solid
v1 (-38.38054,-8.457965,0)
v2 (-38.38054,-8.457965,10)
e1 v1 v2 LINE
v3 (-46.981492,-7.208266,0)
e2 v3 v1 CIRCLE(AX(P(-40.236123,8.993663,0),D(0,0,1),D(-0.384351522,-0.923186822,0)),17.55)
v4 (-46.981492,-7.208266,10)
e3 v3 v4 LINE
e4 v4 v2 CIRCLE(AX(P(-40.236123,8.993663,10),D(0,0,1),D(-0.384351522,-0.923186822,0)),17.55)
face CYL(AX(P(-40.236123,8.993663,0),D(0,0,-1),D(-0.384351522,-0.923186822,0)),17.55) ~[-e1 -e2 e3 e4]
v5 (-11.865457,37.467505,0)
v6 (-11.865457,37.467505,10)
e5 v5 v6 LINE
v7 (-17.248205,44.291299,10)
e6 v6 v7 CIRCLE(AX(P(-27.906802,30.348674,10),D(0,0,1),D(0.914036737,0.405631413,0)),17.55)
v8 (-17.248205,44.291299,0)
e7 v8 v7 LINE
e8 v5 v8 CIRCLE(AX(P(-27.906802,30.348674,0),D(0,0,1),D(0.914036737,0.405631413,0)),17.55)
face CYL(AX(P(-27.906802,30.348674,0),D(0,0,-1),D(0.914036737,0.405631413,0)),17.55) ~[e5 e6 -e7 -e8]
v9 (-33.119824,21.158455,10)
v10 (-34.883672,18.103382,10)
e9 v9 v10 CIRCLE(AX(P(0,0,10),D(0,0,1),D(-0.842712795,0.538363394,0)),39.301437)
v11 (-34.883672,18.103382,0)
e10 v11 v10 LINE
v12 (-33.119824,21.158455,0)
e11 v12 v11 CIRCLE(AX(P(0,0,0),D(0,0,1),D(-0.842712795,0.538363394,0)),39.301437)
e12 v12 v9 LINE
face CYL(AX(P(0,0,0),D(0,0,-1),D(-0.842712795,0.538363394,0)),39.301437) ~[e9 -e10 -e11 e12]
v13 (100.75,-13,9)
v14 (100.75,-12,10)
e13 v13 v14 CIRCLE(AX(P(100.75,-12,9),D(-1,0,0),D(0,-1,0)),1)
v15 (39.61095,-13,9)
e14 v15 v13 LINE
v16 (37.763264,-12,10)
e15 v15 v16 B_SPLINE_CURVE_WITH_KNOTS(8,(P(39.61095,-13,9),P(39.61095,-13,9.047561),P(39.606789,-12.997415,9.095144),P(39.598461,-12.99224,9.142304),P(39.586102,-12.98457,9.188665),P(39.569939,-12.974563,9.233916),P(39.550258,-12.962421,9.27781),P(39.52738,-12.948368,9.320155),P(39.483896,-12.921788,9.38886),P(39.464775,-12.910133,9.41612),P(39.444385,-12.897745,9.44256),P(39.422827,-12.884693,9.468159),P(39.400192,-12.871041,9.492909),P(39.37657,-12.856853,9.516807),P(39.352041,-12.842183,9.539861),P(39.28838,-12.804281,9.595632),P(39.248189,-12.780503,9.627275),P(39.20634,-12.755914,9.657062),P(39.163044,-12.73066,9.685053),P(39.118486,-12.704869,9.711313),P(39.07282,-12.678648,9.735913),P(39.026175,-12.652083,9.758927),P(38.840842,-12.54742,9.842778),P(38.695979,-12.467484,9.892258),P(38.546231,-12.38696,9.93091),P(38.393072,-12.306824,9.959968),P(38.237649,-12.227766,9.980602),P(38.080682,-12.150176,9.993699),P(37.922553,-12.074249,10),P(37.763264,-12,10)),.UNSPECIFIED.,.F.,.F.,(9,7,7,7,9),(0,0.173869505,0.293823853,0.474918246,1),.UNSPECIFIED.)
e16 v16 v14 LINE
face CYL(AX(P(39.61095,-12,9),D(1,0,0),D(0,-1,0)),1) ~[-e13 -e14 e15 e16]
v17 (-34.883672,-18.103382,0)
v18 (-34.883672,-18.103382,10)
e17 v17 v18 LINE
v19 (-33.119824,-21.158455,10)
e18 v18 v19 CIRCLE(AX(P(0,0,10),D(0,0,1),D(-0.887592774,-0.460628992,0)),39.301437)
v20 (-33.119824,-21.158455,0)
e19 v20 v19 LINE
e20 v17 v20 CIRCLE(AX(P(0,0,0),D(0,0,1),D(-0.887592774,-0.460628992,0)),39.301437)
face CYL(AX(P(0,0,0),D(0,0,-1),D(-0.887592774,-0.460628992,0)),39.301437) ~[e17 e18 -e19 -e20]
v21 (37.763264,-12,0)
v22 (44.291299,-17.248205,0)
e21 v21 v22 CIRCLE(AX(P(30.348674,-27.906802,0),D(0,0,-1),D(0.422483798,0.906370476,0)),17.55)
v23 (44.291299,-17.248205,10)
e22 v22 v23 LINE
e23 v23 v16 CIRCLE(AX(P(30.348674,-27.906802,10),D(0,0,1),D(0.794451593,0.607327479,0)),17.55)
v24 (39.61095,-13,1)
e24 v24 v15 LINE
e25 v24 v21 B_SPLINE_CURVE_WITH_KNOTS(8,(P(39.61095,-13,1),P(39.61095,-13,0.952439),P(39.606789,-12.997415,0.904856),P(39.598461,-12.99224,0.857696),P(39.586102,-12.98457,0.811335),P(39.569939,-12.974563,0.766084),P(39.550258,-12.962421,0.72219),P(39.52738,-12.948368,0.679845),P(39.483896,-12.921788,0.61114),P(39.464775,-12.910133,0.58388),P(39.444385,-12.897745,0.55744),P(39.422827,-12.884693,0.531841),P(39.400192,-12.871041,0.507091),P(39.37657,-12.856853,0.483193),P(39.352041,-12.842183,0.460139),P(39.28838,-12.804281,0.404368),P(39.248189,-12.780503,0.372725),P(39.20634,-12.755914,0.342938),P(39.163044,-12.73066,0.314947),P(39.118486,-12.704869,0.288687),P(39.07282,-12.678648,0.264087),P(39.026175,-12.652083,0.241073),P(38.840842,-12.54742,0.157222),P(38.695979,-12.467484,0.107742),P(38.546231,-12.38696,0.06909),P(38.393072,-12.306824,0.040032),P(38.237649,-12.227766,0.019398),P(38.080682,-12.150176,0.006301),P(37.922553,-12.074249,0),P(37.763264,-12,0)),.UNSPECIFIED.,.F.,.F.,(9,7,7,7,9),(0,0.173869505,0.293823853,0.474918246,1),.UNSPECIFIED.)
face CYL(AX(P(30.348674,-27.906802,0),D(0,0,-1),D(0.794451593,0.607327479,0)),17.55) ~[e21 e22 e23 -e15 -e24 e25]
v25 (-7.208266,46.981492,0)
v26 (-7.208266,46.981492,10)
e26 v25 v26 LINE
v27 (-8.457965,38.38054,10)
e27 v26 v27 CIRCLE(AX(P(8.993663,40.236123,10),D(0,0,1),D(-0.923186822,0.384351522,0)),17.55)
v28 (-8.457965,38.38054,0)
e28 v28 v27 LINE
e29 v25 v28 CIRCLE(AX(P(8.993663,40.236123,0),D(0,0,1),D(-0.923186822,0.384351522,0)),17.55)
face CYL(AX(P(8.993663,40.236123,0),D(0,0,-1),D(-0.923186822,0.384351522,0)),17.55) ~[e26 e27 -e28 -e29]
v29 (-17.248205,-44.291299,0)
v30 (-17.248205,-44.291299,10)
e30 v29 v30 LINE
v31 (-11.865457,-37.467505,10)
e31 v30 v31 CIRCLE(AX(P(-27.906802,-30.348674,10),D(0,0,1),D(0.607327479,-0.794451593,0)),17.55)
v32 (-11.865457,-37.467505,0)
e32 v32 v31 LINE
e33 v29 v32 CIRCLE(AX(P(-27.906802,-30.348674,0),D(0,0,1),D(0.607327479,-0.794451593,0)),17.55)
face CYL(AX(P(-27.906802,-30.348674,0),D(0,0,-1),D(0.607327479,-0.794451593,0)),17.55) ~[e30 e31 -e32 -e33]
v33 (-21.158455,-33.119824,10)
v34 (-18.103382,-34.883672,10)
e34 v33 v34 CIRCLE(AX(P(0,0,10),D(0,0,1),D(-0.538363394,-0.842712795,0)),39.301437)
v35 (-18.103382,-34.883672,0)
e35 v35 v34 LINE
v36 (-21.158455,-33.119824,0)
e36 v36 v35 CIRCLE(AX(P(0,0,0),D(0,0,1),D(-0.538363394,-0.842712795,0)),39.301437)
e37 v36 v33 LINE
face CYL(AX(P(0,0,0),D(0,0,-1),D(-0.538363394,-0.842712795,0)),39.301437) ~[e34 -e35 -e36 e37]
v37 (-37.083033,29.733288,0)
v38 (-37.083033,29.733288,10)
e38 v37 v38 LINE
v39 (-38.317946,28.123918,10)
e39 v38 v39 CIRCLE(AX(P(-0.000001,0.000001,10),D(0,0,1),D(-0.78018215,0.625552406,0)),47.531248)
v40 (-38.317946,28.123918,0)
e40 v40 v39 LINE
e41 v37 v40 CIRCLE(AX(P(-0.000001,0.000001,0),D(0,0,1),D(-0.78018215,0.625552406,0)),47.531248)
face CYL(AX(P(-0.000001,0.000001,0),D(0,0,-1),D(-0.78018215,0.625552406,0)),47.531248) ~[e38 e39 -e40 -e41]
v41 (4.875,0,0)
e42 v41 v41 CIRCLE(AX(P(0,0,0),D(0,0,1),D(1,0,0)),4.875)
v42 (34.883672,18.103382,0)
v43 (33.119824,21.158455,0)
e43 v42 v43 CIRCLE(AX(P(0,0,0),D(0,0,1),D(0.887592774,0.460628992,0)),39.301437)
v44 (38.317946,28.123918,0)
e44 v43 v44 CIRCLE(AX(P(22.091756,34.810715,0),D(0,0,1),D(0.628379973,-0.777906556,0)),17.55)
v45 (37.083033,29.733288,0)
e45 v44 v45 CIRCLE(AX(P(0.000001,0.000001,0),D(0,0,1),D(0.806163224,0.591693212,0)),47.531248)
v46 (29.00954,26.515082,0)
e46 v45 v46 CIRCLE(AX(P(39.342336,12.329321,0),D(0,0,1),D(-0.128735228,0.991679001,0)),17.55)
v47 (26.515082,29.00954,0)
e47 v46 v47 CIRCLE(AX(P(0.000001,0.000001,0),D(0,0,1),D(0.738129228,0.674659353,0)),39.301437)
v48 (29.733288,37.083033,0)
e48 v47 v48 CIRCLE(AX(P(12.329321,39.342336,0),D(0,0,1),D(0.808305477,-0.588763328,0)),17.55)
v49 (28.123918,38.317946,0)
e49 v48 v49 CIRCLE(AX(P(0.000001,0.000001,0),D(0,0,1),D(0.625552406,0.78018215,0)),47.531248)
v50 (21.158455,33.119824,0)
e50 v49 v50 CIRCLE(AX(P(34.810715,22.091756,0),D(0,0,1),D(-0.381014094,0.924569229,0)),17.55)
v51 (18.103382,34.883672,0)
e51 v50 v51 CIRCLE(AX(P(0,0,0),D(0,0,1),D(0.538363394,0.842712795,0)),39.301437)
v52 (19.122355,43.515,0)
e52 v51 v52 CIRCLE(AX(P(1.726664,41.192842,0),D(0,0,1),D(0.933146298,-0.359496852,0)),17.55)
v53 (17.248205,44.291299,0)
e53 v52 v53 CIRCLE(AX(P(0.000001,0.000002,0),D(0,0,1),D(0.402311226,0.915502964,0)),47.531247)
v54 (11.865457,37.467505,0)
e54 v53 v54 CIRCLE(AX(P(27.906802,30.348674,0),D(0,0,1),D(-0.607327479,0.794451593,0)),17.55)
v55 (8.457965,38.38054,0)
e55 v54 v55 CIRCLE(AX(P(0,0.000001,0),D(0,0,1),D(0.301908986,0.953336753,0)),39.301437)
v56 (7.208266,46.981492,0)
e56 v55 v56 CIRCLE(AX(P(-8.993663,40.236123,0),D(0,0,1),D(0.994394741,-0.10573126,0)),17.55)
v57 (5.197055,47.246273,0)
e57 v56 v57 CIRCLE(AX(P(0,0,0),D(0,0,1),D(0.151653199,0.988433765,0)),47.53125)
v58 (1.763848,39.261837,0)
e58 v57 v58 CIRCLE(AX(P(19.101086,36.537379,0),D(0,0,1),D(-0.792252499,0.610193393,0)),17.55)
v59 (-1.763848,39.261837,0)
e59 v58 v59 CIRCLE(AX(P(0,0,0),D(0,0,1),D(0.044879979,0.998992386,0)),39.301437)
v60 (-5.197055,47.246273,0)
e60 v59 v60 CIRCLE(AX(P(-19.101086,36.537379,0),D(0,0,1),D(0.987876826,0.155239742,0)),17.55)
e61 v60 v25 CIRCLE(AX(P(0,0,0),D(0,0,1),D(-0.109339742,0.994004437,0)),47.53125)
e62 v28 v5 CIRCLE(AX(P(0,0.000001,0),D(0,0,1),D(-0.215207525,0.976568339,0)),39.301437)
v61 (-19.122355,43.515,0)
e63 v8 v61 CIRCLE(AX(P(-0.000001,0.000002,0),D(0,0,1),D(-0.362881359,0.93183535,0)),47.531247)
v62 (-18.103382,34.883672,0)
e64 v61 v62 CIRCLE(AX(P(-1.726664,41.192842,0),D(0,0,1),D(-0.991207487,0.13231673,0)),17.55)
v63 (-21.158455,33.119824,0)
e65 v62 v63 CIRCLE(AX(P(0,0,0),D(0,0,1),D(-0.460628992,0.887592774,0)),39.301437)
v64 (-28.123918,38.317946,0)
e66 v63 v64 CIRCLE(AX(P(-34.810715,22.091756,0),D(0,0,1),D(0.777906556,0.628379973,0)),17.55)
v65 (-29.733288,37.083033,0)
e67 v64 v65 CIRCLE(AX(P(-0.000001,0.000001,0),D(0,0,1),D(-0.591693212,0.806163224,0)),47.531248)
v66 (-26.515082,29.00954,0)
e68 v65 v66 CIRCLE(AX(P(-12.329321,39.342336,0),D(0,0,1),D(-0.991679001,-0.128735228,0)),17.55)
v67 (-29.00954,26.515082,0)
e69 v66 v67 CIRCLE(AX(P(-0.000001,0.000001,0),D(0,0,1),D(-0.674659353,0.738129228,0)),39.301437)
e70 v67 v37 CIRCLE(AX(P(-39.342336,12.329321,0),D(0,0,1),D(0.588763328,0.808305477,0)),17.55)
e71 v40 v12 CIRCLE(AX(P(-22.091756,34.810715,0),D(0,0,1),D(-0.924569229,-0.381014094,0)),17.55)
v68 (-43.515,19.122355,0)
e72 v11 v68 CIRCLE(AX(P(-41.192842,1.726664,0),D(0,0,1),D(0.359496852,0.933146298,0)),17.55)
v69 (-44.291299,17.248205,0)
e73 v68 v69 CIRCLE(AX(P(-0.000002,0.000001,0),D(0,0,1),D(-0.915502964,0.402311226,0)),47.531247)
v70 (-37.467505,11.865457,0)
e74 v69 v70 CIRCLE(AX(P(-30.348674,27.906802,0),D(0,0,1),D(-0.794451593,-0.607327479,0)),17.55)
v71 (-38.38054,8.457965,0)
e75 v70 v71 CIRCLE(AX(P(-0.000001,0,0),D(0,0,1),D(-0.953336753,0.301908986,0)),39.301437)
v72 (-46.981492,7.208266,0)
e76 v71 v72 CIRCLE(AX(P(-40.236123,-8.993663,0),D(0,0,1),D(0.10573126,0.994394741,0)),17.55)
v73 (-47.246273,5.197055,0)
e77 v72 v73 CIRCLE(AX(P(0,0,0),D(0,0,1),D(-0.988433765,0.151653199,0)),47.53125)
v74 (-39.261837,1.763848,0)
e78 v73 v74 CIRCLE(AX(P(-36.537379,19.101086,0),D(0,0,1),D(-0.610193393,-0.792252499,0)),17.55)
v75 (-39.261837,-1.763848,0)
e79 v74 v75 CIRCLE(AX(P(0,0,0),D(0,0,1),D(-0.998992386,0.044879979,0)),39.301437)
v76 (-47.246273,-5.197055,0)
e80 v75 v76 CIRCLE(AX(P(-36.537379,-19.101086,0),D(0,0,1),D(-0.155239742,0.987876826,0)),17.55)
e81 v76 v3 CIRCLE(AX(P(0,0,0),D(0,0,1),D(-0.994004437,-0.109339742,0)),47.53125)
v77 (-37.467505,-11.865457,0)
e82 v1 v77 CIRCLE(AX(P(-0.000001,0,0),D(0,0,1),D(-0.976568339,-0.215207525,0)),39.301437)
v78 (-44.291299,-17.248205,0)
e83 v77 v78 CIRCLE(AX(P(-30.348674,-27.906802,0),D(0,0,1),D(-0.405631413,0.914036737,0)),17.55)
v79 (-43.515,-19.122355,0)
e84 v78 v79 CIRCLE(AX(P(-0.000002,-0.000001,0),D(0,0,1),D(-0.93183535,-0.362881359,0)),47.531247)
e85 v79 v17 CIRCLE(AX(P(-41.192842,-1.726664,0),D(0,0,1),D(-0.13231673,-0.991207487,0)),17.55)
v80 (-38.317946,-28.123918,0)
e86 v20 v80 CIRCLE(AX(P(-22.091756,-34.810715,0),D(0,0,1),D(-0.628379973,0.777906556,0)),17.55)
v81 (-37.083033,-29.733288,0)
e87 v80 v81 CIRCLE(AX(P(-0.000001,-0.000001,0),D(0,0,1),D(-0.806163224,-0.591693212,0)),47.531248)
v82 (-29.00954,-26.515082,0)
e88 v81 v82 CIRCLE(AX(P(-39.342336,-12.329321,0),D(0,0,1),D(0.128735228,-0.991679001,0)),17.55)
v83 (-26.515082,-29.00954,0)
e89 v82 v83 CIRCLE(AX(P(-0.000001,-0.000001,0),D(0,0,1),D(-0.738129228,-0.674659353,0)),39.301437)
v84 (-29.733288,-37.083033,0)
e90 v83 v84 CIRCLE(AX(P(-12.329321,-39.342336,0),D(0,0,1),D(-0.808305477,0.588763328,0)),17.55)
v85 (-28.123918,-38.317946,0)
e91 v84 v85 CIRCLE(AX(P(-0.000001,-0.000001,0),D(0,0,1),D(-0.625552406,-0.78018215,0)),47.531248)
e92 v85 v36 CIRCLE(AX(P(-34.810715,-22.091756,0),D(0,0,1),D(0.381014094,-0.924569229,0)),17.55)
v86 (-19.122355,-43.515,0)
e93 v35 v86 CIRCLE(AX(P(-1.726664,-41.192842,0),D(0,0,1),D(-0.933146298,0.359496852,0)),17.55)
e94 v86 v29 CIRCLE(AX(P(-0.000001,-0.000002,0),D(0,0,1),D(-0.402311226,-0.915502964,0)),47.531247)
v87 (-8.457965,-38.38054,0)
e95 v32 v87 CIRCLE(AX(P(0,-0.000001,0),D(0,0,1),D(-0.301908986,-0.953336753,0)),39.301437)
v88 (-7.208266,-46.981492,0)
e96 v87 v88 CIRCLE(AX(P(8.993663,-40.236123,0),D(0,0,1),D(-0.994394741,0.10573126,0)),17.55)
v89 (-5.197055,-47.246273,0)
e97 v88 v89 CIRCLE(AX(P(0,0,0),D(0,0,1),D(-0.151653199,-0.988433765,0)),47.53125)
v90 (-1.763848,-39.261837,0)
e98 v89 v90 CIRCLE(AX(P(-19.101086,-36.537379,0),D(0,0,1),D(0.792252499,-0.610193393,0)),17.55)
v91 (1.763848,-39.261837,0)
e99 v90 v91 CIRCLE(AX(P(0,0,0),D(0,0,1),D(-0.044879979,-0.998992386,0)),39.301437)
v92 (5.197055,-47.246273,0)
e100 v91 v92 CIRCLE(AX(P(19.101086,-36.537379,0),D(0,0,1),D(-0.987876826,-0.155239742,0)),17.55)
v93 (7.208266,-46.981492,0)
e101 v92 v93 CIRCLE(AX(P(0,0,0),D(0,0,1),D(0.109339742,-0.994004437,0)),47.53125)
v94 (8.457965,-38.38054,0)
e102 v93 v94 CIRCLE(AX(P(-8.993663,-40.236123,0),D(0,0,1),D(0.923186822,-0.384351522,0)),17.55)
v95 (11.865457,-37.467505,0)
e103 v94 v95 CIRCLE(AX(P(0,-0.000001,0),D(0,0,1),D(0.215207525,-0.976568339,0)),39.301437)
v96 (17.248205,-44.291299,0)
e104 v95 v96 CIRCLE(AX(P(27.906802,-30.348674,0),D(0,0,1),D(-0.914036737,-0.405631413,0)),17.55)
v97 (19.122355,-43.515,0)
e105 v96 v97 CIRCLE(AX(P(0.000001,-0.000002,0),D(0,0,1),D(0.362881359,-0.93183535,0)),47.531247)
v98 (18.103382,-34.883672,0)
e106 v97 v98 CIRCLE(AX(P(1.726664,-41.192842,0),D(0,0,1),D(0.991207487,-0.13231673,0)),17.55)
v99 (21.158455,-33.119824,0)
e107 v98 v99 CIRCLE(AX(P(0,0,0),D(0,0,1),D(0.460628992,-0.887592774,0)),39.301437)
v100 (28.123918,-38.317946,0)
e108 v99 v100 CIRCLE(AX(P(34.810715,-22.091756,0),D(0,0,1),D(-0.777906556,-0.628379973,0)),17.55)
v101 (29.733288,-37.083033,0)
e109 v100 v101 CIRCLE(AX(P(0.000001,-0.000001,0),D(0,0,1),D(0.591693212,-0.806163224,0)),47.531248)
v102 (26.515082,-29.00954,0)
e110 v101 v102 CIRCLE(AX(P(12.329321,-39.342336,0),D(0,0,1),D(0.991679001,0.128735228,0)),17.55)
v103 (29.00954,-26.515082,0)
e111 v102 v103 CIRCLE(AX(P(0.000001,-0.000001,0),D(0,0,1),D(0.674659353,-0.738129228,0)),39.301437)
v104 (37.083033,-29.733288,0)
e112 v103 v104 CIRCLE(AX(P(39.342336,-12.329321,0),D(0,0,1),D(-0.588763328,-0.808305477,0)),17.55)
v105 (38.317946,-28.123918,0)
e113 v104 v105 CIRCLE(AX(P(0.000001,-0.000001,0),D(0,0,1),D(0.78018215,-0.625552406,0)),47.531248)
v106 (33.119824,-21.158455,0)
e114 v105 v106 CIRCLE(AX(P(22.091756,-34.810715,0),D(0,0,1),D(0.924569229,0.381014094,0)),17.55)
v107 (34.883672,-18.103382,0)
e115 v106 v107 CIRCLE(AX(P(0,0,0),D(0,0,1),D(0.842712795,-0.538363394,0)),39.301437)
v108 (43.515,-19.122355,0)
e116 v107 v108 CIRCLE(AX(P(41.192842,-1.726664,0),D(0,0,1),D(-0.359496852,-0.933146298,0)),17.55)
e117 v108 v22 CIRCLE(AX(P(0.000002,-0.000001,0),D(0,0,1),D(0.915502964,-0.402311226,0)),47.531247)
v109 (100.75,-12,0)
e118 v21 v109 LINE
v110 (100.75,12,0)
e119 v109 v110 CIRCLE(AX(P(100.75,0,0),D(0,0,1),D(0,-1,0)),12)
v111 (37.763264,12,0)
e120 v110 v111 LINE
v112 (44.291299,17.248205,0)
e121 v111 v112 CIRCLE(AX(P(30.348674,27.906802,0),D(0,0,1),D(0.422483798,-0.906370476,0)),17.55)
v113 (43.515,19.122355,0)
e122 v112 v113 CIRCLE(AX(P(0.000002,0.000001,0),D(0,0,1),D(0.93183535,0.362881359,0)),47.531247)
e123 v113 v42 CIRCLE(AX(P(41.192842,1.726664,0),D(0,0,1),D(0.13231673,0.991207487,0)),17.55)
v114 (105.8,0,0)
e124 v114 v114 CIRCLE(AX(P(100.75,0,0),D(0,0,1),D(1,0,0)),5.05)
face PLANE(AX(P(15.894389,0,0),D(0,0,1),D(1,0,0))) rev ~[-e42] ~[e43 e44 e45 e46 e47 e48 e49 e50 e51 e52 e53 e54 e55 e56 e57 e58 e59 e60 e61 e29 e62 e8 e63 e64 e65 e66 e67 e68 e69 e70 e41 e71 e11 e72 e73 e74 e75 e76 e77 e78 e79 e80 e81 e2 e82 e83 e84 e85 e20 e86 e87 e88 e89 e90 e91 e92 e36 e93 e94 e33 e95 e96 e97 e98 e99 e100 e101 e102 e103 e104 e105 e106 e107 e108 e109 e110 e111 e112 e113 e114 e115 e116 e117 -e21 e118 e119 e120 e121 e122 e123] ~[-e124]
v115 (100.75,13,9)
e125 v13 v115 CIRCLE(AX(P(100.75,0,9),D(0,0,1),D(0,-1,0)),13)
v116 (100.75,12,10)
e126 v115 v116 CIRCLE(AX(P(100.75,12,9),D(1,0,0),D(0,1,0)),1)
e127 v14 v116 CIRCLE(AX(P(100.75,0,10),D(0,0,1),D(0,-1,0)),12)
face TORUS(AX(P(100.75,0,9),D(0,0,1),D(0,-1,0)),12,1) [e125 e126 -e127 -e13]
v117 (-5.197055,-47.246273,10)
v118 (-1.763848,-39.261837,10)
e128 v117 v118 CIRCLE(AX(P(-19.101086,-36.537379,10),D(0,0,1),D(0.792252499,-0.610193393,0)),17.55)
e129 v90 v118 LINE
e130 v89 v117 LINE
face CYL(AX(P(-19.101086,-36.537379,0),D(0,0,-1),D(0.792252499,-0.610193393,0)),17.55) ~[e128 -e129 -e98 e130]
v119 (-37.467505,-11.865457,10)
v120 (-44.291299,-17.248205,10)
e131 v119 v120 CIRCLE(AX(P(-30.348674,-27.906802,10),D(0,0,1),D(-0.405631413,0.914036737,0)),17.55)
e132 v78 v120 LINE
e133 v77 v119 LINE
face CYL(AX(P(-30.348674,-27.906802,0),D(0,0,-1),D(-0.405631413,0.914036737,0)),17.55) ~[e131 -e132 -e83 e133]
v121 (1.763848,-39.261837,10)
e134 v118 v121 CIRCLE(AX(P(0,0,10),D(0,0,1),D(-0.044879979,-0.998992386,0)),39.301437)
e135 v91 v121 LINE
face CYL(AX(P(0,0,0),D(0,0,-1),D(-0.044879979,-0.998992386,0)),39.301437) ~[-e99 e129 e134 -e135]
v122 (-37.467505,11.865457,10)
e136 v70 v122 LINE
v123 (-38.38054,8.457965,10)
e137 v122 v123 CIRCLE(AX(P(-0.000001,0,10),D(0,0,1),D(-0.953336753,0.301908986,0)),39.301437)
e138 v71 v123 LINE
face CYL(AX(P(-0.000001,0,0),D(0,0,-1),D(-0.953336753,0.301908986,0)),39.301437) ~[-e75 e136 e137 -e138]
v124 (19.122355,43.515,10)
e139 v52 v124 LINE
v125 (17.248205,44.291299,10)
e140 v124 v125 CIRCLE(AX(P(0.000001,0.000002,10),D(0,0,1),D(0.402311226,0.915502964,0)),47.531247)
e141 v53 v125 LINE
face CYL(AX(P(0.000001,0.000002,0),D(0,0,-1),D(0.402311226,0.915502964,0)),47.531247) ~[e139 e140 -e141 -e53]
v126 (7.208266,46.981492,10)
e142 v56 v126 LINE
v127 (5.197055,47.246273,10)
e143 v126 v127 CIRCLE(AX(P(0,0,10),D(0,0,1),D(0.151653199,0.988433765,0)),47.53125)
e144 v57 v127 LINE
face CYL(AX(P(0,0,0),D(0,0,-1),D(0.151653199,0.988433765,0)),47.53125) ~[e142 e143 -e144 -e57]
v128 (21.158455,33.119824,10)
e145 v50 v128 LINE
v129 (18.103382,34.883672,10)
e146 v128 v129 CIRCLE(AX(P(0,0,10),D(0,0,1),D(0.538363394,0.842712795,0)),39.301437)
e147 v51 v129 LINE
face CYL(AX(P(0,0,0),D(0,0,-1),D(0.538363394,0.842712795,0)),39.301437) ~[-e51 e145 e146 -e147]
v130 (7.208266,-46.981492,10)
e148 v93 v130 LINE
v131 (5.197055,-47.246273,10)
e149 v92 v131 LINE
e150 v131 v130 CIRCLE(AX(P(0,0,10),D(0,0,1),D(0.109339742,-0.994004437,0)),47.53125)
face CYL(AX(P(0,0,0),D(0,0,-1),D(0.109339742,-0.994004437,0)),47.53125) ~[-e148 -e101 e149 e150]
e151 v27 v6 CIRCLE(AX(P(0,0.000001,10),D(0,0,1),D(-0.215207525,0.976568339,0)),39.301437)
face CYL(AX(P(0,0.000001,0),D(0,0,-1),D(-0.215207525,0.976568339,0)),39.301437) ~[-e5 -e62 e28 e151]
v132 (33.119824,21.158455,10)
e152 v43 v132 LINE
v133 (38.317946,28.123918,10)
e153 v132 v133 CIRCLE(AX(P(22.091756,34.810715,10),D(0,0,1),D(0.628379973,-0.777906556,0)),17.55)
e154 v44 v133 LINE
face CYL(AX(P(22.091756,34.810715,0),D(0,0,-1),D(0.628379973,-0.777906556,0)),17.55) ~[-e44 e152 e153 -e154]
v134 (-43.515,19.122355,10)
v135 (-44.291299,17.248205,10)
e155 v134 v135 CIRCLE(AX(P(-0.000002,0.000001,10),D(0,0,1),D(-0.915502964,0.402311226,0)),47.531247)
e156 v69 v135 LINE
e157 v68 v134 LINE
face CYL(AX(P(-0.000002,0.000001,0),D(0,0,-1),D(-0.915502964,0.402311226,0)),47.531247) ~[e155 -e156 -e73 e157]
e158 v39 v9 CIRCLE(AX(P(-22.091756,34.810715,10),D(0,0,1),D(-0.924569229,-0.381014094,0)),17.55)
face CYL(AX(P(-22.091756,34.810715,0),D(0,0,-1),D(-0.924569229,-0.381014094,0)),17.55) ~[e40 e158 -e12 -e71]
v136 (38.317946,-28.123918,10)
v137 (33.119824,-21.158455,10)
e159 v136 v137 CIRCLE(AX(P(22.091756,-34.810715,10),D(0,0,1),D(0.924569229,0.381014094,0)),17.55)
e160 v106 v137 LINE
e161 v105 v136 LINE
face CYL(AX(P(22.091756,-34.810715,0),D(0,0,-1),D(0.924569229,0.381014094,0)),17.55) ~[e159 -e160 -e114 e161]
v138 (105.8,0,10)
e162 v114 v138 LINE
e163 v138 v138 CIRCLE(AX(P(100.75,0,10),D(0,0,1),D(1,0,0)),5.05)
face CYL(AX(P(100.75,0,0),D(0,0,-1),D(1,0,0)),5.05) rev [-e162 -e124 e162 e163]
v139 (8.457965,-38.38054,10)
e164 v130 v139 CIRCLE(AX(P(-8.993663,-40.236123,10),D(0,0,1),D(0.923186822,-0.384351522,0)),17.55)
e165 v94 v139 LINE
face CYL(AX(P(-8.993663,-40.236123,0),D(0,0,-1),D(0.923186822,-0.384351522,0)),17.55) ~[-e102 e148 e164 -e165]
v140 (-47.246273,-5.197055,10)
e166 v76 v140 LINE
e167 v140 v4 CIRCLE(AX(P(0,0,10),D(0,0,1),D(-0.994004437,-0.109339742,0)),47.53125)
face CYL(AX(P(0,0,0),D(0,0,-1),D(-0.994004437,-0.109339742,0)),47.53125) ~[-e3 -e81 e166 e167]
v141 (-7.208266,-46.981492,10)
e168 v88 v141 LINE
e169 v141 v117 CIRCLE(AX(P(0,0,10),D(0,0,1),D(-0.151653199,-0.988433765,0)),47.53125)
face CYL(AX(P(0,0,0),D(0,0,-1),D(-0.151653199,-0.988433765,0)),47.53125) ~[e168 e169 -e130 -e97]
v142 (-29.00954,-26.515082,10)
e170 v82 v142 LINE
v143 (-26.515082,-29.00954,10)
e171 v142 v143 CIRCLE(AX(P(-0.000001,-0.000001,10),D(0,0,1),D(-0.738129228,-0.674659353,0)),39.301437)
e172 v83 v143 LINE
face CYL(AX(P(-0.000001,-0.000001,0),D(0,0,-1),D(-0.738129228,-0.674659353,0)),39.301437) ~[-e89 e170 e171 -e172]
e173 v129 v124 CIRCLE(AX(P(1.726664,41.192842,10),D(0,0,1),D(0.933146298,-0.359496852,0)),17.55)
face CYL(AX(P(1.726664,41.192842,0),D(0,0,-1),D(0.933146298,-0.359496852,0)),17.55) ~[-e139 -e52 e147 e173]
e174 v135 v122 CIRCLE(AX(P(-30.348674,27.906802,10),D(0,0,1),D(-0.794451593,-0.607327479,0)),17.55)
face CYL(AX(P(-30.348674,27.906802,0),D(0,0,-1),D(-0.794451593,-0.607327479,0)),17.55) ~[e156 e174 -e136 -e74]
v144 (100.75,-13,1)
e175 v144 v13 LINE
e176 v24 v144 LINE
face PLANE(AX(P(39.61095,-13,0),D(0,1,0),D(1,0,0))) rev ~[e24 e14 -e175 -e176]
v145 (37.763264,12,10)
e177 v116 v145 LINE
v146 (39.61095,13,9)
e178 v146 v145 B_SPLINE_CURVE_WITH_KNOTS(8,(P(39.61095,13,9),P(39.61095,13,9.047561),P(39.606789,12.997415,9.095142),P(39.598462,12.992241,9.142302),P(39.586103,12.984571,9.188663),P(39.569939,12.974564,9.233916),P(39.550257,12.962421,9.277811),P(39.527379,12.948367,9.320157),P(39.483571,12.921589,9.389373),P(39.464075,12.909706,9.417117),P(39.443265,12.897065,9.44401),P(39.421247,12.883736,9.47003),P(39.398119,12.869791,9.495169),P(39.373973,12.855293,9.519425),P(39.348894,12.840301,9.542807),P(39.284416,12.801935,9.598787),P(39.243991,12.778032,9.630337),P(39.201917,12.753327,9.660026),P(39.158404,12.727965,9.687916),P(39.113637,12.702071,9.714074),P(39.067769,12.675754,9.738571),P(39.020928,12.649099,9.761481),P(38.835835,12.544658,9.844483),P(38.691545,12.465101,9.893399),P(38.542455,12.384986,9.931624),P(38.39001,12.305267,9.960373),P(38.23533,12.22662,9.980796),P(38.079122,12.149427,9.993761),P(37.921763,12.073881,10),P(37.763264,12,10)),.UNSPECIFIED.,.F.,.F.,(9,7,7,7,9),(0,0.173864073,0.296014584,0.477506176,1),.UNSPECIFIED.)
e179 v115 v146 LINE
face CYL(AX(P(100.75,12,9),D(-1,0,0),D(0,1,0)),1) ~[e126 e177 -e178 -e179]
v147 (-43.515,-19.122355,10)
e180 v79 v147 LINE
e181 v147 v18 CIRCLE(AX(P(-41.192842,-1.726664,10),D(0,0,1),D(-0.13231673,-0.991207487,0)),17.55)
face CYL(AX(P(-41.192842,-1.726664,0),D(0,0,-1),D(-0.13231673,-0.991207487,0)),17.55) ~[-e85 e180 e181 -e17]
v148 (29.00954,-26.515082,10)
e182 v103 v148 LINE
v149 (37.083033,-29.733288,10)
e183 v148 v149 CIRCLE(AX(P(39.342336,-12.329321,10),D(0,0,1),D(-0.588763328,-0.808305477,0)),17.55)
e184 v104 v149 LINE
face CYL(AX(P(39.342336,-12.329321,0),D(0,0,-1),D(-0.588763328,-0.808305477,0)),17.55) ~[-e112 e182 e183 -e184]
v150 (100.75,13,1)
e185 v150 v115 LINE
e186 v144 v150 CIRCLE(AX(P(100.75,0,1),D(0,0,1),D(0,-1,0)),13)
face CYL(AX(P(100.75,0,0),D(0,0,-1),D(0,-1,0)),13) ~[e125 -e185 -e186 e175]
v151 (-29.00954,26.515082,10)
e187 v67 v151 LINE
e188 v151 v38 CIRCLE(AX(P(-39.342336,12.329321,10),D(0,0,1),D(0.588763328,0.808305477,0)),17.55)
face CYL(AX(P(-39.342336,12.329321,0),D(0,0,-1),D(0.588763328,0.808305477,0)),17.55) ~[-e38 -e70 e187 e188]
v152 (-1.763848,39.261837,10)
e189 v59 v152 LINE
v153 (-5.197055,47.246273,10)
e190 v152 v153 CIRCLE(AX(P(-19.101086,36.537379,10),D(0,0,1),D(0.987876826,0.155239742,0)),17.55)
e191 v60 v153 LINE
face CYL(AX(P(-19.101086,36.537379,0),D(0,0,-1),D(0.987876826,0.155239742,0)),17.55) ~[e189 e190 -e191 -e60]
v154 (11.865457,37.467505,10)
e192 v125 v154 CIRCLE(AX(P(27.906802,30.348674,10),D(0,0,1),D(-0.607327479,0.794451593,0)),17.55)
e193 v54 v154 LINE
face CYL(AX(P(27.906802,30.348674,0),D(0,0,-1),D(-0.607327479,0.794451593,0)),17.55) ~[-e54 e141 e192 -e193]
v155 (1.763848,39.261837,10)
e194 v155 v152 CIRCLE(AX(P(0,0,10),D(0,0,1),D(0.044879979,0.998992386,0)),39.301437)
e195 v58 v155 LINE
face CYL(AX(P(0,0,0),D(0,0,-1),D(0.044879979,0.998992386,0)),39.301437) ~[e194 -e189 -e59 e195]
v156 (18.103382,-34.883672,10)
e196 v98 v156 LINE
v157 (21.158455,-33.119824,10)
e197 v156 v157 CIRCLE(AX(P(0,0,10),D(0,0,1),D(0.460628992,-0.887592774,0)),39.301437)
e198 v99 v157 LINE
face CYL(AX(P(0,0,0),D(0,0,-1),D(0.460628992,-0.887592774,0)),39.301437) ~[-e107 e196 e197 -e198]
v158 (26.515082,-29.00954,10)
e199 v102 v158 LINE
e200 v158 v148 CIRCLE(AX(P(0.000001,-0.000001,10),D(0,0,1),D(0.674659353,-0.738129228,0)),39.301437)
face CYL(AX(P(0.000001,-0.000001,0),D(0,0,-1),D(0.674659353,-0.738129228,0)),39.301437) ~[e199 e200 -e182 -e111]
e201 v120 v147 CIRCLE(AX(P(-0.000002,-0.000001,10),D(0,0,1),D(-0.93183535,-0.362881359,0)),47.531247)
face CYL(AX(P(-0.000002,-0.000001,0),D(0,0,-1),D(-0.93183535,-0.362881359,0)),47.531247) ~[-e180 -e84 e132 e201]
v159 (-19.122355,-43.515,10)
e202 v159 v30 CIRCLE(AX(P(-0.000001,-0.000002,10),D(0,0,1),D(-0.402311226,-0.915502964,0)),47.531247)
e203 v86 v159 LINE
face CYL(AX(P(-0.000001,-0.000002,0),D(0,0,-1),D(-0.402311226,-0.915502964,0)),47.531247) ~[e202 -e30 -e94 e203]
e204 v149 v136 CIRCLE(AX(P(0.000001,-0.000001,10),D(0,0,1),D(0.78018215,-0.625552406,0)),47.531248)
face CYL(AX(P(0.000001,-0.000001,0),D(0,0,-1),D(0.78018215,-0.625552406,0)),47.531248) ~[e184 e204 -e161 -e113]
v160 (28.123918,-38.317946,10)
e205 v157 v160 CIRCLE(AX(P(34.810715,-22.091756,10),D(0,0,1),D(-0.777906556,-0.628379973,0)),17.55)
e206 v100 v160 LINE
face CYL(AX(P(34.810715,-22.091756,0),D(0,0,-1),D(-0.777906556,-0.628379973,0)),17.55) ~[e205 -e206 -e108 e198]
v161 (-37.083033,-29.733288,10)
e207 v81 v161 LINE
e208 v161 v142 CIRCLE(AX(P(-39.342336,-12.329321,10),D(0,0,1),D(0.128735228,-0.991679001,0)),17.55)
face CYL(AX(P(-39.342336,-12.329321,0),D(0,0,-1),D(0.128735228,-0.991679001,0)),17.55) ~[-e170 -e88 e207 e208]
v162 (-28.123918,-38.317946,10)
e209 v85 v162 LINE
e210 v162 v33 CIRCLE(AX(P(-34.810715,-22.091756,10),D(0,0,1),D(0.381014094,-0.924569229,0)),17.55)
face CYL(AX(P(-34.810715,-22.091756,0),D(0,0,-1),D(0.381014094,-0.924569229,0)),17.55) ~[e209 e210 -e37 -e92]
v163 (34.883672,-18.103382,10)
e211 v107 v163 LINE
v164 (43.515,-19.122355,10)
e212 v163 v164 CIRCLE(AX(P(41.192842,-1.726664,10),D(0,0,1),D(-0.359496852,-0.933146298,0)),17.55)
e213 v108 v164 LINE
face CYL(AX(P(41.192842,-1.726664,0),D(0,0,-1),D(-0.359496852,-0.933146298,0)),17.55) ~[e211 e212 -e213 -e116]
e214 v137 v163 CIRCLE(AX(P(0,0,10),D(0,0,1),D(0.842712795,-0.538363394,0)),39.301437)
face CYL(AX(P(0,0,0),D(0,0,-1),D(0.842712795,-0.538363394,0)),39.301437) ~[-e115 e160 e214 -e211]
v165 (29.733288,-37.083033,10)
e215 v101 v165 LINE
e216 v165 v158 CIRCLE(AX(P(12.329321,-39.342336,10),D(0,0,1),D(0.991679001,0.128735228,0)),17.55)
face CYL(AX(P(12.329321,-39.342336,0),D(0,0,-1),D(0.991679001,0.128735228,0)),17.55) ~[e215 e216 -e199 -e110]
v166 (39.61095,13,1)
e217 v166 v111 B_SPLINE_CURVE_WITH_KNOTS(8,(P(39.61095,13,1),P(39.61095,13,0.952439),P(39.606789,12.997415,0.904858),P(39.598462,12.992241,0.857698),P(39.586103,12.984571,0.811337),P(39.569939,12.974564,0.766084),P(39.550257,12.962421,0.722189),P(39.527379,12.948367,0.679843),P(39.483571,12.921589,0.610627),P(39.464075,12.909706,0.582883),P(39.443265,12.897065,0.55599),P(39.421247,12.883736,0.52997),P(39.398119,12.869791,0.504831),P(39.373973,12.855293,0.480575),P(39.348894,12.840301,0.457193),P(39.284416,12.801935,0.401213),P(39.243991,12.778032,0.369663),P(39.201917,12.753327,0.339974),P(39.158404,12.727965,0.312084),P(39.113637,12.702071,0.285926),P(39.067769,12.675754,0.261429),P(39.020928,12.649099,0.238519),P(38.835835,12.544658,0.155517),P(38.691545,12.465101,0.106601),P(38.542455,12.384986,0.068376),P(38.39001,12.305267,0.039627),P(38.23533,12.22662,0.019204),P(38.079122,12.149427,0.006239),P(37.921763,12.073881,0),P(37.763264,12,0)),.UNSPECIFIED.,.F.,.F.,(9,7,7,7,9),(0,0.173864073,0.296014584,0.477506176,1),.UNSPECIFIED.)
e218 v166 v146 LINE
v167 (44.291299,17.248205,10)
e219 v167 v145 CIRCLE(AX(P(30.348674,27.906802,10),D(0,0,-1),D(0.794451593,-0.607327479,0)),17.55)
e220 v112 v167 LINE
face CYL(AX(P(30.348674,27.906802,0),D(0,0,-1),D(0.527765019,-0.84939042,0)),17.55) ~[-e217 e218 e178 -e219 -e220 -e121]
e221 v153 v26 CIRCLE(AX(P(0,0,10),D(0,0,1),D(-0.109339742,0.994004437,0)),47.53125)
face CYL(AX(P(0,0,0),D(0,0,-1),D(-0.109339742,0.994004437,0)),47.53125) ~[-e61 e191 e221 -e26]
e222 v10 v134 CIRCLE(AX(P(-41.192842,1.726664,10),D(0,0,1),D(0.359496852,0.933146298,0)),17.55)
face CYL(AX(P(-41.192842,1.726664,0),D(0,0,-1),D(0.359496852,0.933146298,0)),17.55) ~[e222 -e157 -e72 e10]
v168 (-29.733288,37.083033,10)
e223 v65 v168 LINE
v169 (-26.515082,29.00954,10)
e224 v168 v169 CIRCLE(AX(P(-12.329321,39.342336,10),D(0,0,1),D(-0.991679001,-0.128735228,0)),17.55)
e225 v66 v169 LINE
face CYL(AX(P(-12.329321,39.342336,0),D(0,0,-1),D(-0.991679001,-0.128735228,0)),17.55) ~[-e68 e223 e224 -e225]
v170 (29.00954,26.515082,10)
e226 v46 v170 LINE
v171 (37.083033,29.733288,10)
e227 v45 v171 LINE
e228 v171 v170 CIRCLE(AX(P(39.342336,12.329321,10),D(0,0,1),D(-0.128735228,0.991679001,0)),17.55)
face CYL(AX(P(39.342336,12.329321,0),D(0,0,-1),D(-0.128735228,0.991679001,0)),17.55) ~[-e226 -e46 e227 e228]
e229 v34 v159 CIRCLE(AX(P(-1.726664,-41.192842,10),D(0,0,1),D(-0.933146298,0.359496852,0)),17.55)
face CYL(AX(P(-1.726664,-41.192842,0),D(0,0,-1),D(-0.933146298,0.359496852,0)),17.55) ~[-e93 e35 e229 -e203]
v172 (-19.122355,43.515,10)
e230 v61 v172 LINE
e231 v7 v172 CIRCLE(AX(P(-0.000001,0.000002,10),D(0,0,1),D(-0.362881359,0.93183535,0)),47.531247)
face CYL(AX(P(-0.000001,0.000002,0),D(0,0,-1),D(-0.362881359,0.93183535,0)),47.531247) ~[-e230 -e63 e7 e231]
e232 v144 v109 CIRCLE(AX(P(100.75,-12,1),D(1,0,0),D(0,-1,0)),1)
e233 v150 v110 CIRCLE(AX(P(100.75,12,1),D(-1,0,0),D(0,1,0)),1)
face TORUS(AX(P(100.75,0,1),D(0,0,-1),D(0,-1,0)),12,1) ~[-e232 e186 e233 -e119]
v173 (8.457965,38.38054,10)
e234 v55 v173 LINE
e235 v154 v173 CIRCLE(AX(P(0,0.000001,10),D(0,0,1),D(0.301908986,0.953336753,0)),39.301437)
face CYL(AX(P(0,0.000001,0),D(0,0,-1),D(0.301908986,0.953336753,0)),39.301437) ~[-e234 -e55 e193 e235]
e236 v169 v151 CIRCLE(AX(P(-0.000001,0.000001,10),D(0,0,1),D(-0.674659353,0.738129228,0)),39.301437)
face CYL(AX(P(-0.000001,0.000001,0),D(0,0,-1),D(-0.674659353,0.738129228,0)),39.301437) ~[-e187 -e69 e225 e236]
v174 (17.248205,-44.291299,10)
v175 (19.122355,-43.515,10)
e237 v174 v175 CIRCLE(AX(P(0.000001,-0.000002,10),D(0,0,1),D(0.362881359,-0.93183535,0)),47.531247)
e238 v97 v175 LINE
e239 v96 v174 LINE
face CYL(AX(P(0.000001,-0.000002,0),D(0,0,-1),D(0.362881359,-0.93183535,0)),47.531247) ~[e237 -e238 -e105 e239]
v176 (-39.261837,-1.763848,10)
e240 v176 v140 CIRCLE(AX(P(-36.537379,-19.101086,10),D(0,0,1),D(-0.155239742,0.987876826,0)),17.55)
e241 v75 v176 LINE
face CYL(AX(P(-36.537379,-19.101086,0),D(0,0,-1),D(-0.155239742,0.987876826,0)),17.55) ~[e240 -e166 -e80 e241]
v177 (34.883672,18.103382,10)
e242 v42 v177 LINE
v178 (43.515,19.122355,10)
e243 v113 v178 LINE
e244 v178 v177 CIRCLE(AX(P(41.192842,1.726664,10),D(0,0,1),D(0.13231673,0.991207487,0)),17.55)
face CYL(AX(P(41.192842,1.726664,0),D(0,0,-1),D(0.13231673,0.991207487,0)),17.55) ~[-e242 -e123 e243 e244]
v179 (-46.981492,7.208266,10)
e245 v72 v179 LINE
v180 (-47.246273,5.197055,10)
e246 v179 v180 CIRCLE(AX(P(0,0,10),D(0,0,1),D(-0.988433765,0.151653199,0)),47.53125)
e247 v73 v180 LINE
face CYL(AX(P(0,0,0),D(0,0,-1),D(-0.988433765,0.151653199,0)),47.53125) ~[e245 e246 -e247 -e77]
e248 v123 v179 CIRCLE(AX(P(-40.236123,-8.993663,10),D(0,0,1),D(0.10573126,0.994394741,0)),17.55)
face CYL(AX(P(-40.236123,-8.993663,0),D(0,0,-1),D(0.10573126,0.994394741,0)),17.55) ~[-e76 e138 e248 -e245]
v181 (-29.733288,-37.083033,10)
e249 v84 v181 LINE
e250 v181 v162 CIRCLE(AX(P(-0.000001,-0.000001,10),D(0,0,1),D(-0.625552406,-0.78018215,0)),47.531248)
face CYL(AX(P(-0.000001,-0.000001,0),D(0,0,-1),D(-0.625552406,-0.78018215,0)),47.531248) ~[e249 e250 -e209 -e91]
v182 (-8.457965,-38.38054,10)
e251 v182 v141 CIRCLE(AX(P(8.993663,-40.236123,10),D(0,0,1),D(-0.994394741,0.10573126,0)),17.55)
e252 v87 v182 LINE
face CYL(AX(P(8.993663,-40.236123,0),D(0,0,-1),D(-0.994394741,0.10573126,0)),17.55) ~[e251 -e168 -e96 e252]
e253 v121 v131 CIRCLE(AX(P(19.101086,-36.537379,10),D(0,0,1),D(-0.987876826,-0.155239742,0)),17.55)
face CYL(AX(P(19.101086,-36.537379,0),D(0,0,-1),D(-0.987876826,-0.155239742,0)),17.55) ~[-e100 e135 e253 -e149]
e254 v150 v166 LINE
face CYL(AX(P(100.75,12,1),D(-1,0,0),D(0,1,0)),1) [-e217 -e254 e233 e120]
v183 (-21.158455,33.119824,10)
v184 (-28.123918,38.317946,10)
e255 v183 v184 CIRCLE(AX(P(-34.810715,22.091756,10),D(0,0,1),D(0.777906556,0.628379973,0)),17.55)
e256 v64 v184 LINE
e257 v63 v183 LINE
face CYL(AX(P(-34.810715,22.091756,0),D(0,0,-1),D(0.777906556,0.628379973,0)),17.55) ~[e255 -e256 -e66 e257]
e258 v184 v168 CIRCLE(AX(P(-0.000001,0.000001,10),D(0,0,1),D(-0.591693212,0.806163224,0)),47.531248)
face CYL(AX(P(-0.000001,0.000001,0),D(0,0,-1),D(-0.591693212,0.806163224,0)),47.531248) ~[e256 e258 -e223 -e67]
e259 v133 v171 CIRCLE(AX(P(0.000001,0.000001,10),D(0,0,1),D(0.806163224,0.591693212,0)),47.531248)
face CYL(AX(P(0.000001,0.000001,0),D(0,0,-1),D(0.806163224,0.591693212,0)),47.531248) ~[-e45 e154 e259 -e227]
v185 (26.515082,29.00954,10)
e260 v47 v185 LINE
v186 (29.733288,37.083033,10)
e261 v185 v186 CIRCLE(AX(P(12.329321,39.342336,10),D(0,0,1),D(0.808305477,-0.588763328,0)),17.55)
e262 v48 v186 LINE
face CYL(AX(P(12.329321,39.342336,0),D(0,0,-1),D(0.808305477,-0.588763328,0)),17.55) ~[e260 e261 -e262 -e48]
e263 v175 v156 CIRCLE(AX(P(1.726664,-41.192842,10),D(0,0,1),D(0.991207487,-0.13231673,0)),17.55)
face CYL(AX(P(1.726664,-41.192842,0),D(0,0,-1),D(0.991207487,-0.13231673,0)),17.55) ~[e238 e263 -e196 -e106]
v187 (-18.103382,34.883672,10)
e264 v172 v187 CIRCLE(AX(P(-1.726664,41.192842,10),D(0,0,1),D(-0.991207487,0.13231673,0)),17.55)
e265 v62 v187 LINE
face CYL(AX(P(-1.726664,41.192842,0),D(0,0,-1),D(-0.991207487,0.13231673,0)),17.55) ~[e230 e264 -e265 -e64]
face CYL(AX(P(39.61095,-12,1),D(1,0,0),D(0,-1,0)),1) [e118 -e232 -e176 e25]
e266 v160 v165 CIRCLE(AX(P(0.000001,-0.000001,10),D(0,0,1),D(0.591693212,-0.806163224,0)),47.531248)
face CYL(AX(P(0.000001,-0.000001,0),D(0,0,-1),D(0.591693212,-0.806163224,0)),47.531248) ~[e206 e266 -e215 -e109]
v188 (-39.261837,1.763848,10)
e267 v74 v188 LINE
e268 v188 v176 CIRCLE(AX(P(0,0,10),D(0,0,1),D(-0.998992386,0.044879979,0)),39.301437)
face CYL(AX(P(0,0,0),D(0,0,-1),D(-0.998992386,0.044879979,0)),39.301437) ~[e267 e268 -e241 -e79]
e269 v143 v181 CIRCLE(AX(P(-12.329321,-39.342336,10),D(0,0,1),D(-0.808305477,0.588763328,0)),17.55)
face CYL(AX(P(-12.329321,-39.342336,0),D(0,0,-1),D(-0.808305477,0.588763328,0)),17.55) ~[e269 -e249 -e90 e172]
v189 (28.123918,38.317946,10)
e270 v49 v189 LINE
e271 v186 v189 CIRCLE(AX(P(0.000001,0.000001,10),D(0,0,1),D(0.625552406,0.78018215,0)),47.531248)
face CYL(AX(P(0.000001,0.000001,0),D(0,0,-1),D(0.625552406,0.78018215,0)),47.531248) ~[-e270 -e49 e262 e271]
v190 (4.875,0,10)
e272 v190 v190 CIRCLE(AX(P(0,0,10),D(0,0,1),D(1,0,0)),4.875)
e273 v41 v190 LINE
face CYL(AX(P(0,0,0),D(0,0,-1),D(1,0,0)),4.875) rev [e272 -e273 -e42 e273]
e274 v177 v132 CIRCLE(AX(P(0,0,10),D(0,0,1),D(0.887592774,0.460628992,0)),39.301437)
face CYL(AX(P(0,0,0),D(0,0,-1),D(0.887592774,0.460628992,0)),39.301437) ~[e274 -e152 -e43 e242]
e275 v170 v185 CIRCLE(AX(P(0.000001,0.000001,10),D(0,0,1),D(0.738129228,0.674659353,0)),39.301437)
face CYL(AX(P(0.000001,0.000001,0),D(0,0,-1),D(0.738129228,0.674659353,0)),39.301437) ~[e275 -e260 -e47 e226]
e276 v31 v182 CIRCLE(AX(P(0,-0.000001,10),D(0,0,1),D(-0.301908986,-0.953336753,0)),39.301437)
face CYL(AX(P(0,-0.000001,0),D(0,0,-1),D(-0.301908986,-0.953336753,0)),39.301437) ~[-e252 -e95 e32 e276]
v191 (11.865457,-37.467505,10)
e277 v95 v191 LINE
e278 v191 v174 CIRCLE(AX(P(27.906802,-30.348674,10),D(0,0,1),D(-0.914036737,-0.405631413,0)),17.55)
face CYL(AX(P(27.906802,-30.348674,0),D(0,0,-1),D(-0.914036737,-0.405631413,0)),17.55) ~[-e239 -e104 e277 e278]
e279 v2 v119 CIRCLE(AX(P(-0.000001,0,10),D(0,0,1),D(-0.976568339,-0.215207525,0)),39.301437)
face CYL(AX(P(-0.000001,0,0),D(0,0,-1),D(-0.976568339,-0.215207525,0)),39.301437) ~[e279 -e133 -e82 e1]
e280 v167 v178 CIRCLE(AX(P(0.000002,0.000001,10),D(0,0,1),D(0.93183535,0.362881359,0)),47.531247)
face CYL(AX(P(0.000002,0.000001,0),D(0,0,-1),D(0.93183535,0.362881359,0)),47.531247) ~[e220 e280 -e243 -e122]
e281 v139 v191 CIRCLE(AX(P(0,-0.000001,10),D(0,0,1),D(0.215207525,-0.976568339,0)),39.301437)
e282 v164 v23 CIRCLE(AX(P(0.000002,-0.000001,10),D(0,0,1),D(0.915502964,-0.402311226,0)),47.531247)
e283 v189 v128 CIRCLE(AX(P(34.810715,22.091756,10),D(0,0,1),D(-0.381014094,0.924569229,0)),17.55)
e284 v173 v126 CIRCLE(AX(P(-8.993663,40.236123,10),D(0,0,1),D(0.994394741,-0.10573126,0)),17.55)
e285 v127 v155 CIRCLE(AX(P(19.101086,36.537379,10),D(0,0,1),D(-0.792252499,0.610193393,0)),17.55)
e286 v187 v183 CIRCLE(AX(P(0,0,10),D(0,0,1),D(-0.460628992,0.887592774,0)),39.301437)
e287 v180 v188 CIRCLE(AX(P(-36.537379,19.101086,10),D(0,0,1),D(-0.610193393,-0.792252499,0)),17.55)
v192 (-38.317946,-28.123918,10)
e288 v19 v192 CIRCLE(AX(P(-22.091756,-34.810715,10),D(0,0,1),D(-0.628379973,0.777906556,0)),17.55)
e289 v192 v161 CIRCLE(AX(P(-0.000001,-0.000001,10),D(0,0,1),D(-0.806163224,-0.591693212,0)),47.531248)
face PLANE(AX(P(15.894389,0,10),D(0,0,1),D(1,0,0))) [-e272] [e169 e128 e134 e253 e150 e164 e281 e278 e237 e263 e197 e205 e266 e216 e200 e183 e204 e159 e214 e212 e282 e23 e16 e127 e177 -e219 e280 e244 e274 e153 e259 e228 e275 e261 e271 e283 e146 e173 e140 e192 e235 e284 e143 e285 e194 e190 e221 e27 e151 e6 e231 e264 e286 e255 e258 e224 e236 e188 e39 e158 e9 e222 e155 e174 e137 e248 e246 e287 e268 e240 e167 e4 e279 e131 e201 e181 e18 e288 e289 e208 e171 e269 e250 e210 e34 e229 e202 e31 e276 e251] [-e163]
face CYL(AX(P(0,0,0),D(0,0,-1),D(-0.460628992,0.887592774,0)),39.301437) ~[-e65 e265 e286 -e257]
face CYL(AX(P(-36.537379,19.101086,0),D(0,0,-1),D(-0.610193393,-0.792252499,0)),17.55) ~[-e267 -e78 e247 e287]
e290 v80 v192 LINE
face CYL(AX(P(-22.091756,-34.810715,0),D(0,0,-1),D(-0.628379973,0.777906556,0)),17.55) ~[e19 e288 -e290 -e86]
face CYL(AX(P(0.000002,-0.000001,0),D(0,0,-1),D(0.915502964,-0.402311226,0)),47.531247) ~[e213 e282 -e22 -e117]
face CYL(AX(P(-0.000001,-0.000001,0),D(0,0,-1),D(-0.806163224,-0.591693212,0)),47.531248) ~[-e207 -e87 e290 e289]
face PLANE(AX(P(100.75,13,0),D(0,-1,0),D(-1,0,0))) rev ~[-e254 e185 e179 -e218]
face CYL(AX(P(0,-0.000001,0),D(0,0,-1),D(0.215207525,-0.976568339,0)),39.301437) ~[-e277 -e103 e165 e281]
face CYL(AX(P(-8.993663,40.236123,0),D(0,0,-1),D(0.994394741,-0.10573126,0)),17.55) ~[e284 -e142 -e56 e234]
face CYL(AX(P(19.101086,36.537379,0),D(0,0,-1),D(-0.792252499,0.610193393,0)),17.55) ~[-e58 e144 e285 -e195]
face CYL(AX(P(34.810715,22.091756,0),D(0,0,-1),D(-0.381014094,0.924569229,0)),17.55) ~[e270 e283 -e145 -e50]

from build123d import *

# Parameters (mm, degrees)
SKETCH_1_R      = 5.05
SKETCH_1_R_2    = 4.875
EXTRUDE_1_DEPTH = 10
FILLET_1_R      = 1


with BuildPart() as part:
    # 草图1 → 凸台-拉伸1 (new body)
    with BuildSketch(Plane.XY):
        with BuildLine():
            Line((100.75, 13), (39.610949593, 13))
            ThreePointArc((39.610949593, 13), (42.143955384, 14.911655633), (44.291298968, 17.248204611))
            ThreePointArc((44.291298968, 17.248204611), (43.91314903, 18.189421895), (43.515000291, 19.122355404))
            ThreePointArc((43.515000291, 19.122355404), (39.135260233, 19.155630081), (34.883671922, 18.103381529))
            ThreePointArc((34.883671922, 18.103381529), (34.03604328, 19.65071875), (33.119824259, 21.158455298))
            ThreePointArc((33.119824259, 21.158455298), (36.156892392, 24.314314506), (38.317945706, 28.123917996))
            ThreePointArc((38.317945706, 28.123917996), (37.709075956, 28.935191673), (37.083032847, 29.733287767))
            ThreePointArc((37.083032847, 29.733287767), (32.843916692, 28.631868497), (29.009539705, 26.515082418))
            ThreePointArc((29.009539705, 26.515082418), (27.790312967, 27.790312967), (26.515082418, 29.009539705))
            ThreePointArc((26.515082418, 29.009539705), (28.631868497, 32.843916692), (29.733287767, 37.083032847))
            ThreePointArc((29.733287767, 37.083032847), (28.935191673, 37.709075956), (28.123917996, 38.317945706))
            ThreePointArc((28.123917996, 38.317945706), (24.314314506, 36.156892392), (21.158455298, 33.119824259))
            ThreePointArc((21.158455298, 33.119824259), (19.65071875, 34.03604328), (18.103381529, 34.883671922))
            ThreePointArc((18.103381529, 34.883671922), (19.155630081, 39.135260233), (19.122355404, 43.515000291))
            ThreePointArc((19.122355404, 43.515000291), (18.189421895, 43.91314903), (17.248204611, 44.291298968))
            ThreePointArc((17.248204611, 44.291298968), (14.127731967, 41.217883822), (11.865457128, 37.46750481))
            ThreePointArc((11.865457128, 37.46750481), (10.171960525, 37.962273492), (8.457965105, 38.380539546))
            ThreePointArc((8.457965105, 38.380539546), (8.37396713, 42.759600464), (7.208266121, 46.981492378))
            ThreePointArc((7.208266121, 46.981492378), (6.204073074, 47.124613567), (5.197054586, 47.2462734))
            ThreePointArc((5.197054586, 47.2462734), (2.978367841, 43.469944586), (1.763847663, 39.261836826))
            ThreePointArc((1.763847663, 39.261836826), (0, 39.3014375), (-1.763847663, 39.261836826))
            ThreePointArc((-1.763847663, 39.261836826), (-2.978367841, 43.469944586), (-5.197054586, 47.2462734))
            ThreePointArc((-5.197054586, 47.2462734), (-6.204073074, 47.124613567), (-7.208266121, 46.981492378))
            ThreePointArc((-7.208266121, 46.981492378), (-8.37396713, 42.759600464), (-8.457965105, 38.380539546))
            ThreePointArc((-8.457965105, 38.380539546), (-10.171960525, 37.962273492), (-11.865457128, 37.46750481))
            ThreePointArc((-11.865457128, 37.46750481), (-14.127731967, 41.217883822), (-17.248204611, 44.291298968))
            ThreePointArc((-17.248204611, 44.291298968), (-18.189421895, 43.91314903), (-19.122355404, 43.515000291))
            ThreePointArc((-19.122355404, 43.515000291), (-19.155630081, 39.135260233), (-18.103381529, 34.883671922))
            ThreePointArc((-18.103381529, 34.883671922), (-19.65071875, 34.03604328), (-21.158455298, 33.119824259))
            ThreePointArc((-21.158455298, 33.119824259), (-24.314314506, 36.156892392), (-28.123917996, 38.317945706))
            ThreePointArc((-28.123917996, 38.317945706), (-28.935191673, 37.709075956), (-29.733287767, 37.083032847))
            ThreePointArc((-29.733287767, 37.083032847), (-28.631868497, 32.843916692), (-26.515082418, 29.009539705))
            ThreePointArc((-26.515082418, 29.009539705), (-27.790312967, 27.790312967), (-29.009539705, 26.515082418))
            ThreePointArc((-29.009539705, 26.515082418), (-32.843916692, 28.631868497), (-37.083032847, 29.733287767))
            ThreePointArc((-37.083032847, 29.733287767), (-37.709075956, 28.935191673), (-38.317945706, 28.123917996))
            ThreePointArc((-38.317945706, 28.123917996), (-36.156892392, 24.314314506), (-33.119824259, 21.158455298))
            ThreePointArc((-33.119824259, 21.158455298), (-34.03604328, 19.65071875), (-34.883671922, 18.103381529))
            ThreePointArc((-34.883671922, 18.103381529), (-39.135260233, 19.155630081), (-43.515000291, 19.122355404))
            ThreePointArc((-43.515000291, 19.122355404), (-43.91314903, 18.189421895), (-44.291298968, 17.248204611))
            ThreePointArc((-44.291298968, 17.248204611), (-41.217883822, 14.127731967), (-37.46750481, 11.865457128))
            ThreePointArc((-37.46750481, 11.865457128), (-37.962273492, 10.171960525), (-38.380539546, 8.457965105))
            ThreePointArc((-38.380539546, 8.457965105), (-42.759600464, 8.37396713), (-46.981492378, 7.208266121))
            ThreePointArc((-46.981492378, 7.208266121), (-47.124613567, 6.204073074), (-47.2462734, 5.197054586))
            ThreePointArc((-47.2462734, 5.197054586), (-43.469944586, 2.978367841), (-39.261836826, 1.763847663))
            ThreePointArc((-39.261836826, 1.763847663), (-39.3014375, 0), (-39.261836826, -1.763847663))
            ThreePointArc((-39.261836826, -1.763847663), (-43.469944586, -2.978367841), (-47.2462734, -5.197054586))
            ThreePointArc((-47.2462734, -5.197054586), (-47.124613567, -6.204073074), (-46.981492378, -7.208266121))
            ThreePointArc((-46.981492378, -7.208266121), (-42.759600464, -8.37396713), (-38.380539546, -8.457965105))
            ThreePointArc((-38.380539546, -8.457965105), (-37.962273492, -10.171960525), (-37.46750481, -11.865457128))
            ThreePointArc((-37.46750481, -11.865457128), (-41.217883822, -14.127731967), (-44.291298968, -17.248204611))
            ThreePointArc((-44.291298968, -17.248204611), (-43.91314903, -18.189421895), (-43.515000291, -19.122355404))
            ThreePointArc((-43.515000291, -19.122355404), (-39.135260233, -19.155630081), (-34.883671922, -18.103381529))
            ThreePointArc((-34.883671922, -18.103381529), (-34.03604328, -19.65071875), (-33.119824259, -21.158455298))
            ThreePointArc((-33.119824259, -21.158455298), (-36.156892392, -24.314314506), (-38.317945706, -28.123917996))
            ThreePointArc((-38.317945706, -28.123917996), (-37.709075956, -28.935191673), (-37.083032847, -29.733287767))
            ThreePointArc((-37.083032847, -29.733287767), (-32.843916692, -28.631868497), (-29.009539705, -26.515082418))
            ThreePointArc((-29.009539705, -26.515082418), (-27.790312967, -27.790312967), (-26.515082418, -29.009539705))
            ThreePointArc((-26.515082418, -29.009539705), (-28.631868497, -32.843916692), (-29.733287767, -37.083032847))
            ThreePointArc((-29.733287767, -37.083032847), (-28.935191673, -37.709075956), (-28.123917996, -38.317945706))
            ThreePointArc((-28.123917996, -38.317945706), (-24.314314506, -36.156892392), (-21.158455298, -33.119824259))
            ThreePointArc((-21.158455298, -33.119824259), (-19.65071875, -34.03604328), (-18.103381529, -34.883671922))
            ThreePointArc((-18.103381529, -34.883671922), (-19.155630081, -39.135260233), (-19.122355404, -43.515000291))
            ThreePointArc((-19.122355404, -43.515000291), (-18.189421895, -43.91314903), (-17.248204611, -44.291298968))
            ThreePointArc((-17.248204611, -44.291298968), (-14.127731967, -41.217883822), (-11.865457128, -37.46750481))
            ThreePointArc((-11.865457128, -37.46750481), (-10.171960525, -37.962273492), (-8.457965105, -38.380539546))
            ThreePointArc((-8.457965105, -38.380539546), (-8.37396713, -42.759600464), (-7.208266121, -46.981492378))
            ThreePointArc((-7.208266121, -46.981492378), (-6.204073074, -47.124613567), (-5.197054586, -47.2462734))
            ThreePointArc((-5.197054586, -47.2462734), (-2.978367841, -43.469944586), (-1.763847663, -39.261836826))
            ThreePointArc((-1.763847663, -39.261836826), (0, -39.3014375), (1.763847663, -39.261836826))
            ThreePointArc((1.763847663, -39.261836826), (2.978367841, -43.469944586), (5.197054586, -47.2462734))
            ThreePointArc((5.197054586, -47.2462734), (6.204073074, -47.124613567), (7.208266121, -46.981492378))
            ThreePointArc((7.208266121, -46.981492378), (8.37396713, -42.759600464), (8.457965105, -38.380539546))
            ThreePointArc((8.457965105, -38.380539546), (10.171960525, -37.962273492), (11.865457128, -37.46750481))
            ThreePointArc((11.865457128, -37.46750481), (14.127731967, -41.217883822), (17.248204611, -44.291298968))
            ThreePointArc((17.248204611, -44.291298968), (18.189421895, -43.91314903), (19.122355404, -43.515000291))
            ThreePointArc((19.122355404, -43.515000291), (19.155630081, -39.135260233), (18.103381529, -34.883671922))
            ThreePointArc((18.103381529, -34.883671922), (19.65071875, -34.03604328), (21.158455298, -33.119824259))
            ThreePointArc((21.158455298, -33.119824259), (24.314314506, -36.156892392), (28.123917996, -38.317945706))
            ThreePointArc((28.123917996, -38.317945706), (28.935191673, -37.709075956), (29.733287767, -37.083032847))
            ThreePointArc((29.733287767, -37.083032847), (28.631868497, -32.843916692), (26.515082418, -29.009539705))
            ThreePointArc((26.515082418, -29.009539705), (27.790312967, -27.790312967), (29.009539705, -26.515082418))
            ThreePointArc((29.009539705, -26.515082418), (32.843916692, -28.631868497), (37.083032847, -29.733287767))
            ThreePointArc((37.083032847, -29.733287767), (37.709075956, -28.935191673), (38.317945706, -28.123917996))
            ThreePointArc((38.317945706, -28.123917996), (36.156892392, -24.314314506), (33.119824259, -21.158455298))
            ThreePointArc((33.119824259, -21.158455298), (34.03604328, -19.65071875), (34.883671922, -18.103381529))
            ThreePointArc((34.883671922, -18.103381529), (39.135260233, -19.155630081), (43.515000291, -19.122355404))
            ThreePointArc((43.515000291, -19.122355404), (43.91314903, -18.189421895), (44.291298968, -17.248204611))
            ThreePointArc((44.291298968, -17.248204611), (42.143955384, -14.911655633), (39.610949593, -13))
            Line((39.610949593, -13), (100.75, -13))
            ThreePointArc((100.75, -13), (113.75, 0), (100.75, 13))
        make_face()
        with Locations((100.75, 0)):
            Circle(SKETCH_1_R, mode=Mode.SUBTRACT)
        Circle(SKETCH_1_R_2, mode=Mode.SUBTRACT)
    extrude(amount=EXTRUDE_1_DEPTH)

    # 圆角1
    fillet_1_edges = [part.edges().sort_by_distance(p)[0] for p in [
        (70.180474796, 13, 0),
        (113.75, 0, 0),
        (70.180474796, -13, 10),
        (113.75, 0, 10),
        (70.180474796, -13, 0),
        (70.180474796, 13, 10),
    ]]
    fillet(fillet_1_edges, radius=FILLET_1_R)


solid = part.part
